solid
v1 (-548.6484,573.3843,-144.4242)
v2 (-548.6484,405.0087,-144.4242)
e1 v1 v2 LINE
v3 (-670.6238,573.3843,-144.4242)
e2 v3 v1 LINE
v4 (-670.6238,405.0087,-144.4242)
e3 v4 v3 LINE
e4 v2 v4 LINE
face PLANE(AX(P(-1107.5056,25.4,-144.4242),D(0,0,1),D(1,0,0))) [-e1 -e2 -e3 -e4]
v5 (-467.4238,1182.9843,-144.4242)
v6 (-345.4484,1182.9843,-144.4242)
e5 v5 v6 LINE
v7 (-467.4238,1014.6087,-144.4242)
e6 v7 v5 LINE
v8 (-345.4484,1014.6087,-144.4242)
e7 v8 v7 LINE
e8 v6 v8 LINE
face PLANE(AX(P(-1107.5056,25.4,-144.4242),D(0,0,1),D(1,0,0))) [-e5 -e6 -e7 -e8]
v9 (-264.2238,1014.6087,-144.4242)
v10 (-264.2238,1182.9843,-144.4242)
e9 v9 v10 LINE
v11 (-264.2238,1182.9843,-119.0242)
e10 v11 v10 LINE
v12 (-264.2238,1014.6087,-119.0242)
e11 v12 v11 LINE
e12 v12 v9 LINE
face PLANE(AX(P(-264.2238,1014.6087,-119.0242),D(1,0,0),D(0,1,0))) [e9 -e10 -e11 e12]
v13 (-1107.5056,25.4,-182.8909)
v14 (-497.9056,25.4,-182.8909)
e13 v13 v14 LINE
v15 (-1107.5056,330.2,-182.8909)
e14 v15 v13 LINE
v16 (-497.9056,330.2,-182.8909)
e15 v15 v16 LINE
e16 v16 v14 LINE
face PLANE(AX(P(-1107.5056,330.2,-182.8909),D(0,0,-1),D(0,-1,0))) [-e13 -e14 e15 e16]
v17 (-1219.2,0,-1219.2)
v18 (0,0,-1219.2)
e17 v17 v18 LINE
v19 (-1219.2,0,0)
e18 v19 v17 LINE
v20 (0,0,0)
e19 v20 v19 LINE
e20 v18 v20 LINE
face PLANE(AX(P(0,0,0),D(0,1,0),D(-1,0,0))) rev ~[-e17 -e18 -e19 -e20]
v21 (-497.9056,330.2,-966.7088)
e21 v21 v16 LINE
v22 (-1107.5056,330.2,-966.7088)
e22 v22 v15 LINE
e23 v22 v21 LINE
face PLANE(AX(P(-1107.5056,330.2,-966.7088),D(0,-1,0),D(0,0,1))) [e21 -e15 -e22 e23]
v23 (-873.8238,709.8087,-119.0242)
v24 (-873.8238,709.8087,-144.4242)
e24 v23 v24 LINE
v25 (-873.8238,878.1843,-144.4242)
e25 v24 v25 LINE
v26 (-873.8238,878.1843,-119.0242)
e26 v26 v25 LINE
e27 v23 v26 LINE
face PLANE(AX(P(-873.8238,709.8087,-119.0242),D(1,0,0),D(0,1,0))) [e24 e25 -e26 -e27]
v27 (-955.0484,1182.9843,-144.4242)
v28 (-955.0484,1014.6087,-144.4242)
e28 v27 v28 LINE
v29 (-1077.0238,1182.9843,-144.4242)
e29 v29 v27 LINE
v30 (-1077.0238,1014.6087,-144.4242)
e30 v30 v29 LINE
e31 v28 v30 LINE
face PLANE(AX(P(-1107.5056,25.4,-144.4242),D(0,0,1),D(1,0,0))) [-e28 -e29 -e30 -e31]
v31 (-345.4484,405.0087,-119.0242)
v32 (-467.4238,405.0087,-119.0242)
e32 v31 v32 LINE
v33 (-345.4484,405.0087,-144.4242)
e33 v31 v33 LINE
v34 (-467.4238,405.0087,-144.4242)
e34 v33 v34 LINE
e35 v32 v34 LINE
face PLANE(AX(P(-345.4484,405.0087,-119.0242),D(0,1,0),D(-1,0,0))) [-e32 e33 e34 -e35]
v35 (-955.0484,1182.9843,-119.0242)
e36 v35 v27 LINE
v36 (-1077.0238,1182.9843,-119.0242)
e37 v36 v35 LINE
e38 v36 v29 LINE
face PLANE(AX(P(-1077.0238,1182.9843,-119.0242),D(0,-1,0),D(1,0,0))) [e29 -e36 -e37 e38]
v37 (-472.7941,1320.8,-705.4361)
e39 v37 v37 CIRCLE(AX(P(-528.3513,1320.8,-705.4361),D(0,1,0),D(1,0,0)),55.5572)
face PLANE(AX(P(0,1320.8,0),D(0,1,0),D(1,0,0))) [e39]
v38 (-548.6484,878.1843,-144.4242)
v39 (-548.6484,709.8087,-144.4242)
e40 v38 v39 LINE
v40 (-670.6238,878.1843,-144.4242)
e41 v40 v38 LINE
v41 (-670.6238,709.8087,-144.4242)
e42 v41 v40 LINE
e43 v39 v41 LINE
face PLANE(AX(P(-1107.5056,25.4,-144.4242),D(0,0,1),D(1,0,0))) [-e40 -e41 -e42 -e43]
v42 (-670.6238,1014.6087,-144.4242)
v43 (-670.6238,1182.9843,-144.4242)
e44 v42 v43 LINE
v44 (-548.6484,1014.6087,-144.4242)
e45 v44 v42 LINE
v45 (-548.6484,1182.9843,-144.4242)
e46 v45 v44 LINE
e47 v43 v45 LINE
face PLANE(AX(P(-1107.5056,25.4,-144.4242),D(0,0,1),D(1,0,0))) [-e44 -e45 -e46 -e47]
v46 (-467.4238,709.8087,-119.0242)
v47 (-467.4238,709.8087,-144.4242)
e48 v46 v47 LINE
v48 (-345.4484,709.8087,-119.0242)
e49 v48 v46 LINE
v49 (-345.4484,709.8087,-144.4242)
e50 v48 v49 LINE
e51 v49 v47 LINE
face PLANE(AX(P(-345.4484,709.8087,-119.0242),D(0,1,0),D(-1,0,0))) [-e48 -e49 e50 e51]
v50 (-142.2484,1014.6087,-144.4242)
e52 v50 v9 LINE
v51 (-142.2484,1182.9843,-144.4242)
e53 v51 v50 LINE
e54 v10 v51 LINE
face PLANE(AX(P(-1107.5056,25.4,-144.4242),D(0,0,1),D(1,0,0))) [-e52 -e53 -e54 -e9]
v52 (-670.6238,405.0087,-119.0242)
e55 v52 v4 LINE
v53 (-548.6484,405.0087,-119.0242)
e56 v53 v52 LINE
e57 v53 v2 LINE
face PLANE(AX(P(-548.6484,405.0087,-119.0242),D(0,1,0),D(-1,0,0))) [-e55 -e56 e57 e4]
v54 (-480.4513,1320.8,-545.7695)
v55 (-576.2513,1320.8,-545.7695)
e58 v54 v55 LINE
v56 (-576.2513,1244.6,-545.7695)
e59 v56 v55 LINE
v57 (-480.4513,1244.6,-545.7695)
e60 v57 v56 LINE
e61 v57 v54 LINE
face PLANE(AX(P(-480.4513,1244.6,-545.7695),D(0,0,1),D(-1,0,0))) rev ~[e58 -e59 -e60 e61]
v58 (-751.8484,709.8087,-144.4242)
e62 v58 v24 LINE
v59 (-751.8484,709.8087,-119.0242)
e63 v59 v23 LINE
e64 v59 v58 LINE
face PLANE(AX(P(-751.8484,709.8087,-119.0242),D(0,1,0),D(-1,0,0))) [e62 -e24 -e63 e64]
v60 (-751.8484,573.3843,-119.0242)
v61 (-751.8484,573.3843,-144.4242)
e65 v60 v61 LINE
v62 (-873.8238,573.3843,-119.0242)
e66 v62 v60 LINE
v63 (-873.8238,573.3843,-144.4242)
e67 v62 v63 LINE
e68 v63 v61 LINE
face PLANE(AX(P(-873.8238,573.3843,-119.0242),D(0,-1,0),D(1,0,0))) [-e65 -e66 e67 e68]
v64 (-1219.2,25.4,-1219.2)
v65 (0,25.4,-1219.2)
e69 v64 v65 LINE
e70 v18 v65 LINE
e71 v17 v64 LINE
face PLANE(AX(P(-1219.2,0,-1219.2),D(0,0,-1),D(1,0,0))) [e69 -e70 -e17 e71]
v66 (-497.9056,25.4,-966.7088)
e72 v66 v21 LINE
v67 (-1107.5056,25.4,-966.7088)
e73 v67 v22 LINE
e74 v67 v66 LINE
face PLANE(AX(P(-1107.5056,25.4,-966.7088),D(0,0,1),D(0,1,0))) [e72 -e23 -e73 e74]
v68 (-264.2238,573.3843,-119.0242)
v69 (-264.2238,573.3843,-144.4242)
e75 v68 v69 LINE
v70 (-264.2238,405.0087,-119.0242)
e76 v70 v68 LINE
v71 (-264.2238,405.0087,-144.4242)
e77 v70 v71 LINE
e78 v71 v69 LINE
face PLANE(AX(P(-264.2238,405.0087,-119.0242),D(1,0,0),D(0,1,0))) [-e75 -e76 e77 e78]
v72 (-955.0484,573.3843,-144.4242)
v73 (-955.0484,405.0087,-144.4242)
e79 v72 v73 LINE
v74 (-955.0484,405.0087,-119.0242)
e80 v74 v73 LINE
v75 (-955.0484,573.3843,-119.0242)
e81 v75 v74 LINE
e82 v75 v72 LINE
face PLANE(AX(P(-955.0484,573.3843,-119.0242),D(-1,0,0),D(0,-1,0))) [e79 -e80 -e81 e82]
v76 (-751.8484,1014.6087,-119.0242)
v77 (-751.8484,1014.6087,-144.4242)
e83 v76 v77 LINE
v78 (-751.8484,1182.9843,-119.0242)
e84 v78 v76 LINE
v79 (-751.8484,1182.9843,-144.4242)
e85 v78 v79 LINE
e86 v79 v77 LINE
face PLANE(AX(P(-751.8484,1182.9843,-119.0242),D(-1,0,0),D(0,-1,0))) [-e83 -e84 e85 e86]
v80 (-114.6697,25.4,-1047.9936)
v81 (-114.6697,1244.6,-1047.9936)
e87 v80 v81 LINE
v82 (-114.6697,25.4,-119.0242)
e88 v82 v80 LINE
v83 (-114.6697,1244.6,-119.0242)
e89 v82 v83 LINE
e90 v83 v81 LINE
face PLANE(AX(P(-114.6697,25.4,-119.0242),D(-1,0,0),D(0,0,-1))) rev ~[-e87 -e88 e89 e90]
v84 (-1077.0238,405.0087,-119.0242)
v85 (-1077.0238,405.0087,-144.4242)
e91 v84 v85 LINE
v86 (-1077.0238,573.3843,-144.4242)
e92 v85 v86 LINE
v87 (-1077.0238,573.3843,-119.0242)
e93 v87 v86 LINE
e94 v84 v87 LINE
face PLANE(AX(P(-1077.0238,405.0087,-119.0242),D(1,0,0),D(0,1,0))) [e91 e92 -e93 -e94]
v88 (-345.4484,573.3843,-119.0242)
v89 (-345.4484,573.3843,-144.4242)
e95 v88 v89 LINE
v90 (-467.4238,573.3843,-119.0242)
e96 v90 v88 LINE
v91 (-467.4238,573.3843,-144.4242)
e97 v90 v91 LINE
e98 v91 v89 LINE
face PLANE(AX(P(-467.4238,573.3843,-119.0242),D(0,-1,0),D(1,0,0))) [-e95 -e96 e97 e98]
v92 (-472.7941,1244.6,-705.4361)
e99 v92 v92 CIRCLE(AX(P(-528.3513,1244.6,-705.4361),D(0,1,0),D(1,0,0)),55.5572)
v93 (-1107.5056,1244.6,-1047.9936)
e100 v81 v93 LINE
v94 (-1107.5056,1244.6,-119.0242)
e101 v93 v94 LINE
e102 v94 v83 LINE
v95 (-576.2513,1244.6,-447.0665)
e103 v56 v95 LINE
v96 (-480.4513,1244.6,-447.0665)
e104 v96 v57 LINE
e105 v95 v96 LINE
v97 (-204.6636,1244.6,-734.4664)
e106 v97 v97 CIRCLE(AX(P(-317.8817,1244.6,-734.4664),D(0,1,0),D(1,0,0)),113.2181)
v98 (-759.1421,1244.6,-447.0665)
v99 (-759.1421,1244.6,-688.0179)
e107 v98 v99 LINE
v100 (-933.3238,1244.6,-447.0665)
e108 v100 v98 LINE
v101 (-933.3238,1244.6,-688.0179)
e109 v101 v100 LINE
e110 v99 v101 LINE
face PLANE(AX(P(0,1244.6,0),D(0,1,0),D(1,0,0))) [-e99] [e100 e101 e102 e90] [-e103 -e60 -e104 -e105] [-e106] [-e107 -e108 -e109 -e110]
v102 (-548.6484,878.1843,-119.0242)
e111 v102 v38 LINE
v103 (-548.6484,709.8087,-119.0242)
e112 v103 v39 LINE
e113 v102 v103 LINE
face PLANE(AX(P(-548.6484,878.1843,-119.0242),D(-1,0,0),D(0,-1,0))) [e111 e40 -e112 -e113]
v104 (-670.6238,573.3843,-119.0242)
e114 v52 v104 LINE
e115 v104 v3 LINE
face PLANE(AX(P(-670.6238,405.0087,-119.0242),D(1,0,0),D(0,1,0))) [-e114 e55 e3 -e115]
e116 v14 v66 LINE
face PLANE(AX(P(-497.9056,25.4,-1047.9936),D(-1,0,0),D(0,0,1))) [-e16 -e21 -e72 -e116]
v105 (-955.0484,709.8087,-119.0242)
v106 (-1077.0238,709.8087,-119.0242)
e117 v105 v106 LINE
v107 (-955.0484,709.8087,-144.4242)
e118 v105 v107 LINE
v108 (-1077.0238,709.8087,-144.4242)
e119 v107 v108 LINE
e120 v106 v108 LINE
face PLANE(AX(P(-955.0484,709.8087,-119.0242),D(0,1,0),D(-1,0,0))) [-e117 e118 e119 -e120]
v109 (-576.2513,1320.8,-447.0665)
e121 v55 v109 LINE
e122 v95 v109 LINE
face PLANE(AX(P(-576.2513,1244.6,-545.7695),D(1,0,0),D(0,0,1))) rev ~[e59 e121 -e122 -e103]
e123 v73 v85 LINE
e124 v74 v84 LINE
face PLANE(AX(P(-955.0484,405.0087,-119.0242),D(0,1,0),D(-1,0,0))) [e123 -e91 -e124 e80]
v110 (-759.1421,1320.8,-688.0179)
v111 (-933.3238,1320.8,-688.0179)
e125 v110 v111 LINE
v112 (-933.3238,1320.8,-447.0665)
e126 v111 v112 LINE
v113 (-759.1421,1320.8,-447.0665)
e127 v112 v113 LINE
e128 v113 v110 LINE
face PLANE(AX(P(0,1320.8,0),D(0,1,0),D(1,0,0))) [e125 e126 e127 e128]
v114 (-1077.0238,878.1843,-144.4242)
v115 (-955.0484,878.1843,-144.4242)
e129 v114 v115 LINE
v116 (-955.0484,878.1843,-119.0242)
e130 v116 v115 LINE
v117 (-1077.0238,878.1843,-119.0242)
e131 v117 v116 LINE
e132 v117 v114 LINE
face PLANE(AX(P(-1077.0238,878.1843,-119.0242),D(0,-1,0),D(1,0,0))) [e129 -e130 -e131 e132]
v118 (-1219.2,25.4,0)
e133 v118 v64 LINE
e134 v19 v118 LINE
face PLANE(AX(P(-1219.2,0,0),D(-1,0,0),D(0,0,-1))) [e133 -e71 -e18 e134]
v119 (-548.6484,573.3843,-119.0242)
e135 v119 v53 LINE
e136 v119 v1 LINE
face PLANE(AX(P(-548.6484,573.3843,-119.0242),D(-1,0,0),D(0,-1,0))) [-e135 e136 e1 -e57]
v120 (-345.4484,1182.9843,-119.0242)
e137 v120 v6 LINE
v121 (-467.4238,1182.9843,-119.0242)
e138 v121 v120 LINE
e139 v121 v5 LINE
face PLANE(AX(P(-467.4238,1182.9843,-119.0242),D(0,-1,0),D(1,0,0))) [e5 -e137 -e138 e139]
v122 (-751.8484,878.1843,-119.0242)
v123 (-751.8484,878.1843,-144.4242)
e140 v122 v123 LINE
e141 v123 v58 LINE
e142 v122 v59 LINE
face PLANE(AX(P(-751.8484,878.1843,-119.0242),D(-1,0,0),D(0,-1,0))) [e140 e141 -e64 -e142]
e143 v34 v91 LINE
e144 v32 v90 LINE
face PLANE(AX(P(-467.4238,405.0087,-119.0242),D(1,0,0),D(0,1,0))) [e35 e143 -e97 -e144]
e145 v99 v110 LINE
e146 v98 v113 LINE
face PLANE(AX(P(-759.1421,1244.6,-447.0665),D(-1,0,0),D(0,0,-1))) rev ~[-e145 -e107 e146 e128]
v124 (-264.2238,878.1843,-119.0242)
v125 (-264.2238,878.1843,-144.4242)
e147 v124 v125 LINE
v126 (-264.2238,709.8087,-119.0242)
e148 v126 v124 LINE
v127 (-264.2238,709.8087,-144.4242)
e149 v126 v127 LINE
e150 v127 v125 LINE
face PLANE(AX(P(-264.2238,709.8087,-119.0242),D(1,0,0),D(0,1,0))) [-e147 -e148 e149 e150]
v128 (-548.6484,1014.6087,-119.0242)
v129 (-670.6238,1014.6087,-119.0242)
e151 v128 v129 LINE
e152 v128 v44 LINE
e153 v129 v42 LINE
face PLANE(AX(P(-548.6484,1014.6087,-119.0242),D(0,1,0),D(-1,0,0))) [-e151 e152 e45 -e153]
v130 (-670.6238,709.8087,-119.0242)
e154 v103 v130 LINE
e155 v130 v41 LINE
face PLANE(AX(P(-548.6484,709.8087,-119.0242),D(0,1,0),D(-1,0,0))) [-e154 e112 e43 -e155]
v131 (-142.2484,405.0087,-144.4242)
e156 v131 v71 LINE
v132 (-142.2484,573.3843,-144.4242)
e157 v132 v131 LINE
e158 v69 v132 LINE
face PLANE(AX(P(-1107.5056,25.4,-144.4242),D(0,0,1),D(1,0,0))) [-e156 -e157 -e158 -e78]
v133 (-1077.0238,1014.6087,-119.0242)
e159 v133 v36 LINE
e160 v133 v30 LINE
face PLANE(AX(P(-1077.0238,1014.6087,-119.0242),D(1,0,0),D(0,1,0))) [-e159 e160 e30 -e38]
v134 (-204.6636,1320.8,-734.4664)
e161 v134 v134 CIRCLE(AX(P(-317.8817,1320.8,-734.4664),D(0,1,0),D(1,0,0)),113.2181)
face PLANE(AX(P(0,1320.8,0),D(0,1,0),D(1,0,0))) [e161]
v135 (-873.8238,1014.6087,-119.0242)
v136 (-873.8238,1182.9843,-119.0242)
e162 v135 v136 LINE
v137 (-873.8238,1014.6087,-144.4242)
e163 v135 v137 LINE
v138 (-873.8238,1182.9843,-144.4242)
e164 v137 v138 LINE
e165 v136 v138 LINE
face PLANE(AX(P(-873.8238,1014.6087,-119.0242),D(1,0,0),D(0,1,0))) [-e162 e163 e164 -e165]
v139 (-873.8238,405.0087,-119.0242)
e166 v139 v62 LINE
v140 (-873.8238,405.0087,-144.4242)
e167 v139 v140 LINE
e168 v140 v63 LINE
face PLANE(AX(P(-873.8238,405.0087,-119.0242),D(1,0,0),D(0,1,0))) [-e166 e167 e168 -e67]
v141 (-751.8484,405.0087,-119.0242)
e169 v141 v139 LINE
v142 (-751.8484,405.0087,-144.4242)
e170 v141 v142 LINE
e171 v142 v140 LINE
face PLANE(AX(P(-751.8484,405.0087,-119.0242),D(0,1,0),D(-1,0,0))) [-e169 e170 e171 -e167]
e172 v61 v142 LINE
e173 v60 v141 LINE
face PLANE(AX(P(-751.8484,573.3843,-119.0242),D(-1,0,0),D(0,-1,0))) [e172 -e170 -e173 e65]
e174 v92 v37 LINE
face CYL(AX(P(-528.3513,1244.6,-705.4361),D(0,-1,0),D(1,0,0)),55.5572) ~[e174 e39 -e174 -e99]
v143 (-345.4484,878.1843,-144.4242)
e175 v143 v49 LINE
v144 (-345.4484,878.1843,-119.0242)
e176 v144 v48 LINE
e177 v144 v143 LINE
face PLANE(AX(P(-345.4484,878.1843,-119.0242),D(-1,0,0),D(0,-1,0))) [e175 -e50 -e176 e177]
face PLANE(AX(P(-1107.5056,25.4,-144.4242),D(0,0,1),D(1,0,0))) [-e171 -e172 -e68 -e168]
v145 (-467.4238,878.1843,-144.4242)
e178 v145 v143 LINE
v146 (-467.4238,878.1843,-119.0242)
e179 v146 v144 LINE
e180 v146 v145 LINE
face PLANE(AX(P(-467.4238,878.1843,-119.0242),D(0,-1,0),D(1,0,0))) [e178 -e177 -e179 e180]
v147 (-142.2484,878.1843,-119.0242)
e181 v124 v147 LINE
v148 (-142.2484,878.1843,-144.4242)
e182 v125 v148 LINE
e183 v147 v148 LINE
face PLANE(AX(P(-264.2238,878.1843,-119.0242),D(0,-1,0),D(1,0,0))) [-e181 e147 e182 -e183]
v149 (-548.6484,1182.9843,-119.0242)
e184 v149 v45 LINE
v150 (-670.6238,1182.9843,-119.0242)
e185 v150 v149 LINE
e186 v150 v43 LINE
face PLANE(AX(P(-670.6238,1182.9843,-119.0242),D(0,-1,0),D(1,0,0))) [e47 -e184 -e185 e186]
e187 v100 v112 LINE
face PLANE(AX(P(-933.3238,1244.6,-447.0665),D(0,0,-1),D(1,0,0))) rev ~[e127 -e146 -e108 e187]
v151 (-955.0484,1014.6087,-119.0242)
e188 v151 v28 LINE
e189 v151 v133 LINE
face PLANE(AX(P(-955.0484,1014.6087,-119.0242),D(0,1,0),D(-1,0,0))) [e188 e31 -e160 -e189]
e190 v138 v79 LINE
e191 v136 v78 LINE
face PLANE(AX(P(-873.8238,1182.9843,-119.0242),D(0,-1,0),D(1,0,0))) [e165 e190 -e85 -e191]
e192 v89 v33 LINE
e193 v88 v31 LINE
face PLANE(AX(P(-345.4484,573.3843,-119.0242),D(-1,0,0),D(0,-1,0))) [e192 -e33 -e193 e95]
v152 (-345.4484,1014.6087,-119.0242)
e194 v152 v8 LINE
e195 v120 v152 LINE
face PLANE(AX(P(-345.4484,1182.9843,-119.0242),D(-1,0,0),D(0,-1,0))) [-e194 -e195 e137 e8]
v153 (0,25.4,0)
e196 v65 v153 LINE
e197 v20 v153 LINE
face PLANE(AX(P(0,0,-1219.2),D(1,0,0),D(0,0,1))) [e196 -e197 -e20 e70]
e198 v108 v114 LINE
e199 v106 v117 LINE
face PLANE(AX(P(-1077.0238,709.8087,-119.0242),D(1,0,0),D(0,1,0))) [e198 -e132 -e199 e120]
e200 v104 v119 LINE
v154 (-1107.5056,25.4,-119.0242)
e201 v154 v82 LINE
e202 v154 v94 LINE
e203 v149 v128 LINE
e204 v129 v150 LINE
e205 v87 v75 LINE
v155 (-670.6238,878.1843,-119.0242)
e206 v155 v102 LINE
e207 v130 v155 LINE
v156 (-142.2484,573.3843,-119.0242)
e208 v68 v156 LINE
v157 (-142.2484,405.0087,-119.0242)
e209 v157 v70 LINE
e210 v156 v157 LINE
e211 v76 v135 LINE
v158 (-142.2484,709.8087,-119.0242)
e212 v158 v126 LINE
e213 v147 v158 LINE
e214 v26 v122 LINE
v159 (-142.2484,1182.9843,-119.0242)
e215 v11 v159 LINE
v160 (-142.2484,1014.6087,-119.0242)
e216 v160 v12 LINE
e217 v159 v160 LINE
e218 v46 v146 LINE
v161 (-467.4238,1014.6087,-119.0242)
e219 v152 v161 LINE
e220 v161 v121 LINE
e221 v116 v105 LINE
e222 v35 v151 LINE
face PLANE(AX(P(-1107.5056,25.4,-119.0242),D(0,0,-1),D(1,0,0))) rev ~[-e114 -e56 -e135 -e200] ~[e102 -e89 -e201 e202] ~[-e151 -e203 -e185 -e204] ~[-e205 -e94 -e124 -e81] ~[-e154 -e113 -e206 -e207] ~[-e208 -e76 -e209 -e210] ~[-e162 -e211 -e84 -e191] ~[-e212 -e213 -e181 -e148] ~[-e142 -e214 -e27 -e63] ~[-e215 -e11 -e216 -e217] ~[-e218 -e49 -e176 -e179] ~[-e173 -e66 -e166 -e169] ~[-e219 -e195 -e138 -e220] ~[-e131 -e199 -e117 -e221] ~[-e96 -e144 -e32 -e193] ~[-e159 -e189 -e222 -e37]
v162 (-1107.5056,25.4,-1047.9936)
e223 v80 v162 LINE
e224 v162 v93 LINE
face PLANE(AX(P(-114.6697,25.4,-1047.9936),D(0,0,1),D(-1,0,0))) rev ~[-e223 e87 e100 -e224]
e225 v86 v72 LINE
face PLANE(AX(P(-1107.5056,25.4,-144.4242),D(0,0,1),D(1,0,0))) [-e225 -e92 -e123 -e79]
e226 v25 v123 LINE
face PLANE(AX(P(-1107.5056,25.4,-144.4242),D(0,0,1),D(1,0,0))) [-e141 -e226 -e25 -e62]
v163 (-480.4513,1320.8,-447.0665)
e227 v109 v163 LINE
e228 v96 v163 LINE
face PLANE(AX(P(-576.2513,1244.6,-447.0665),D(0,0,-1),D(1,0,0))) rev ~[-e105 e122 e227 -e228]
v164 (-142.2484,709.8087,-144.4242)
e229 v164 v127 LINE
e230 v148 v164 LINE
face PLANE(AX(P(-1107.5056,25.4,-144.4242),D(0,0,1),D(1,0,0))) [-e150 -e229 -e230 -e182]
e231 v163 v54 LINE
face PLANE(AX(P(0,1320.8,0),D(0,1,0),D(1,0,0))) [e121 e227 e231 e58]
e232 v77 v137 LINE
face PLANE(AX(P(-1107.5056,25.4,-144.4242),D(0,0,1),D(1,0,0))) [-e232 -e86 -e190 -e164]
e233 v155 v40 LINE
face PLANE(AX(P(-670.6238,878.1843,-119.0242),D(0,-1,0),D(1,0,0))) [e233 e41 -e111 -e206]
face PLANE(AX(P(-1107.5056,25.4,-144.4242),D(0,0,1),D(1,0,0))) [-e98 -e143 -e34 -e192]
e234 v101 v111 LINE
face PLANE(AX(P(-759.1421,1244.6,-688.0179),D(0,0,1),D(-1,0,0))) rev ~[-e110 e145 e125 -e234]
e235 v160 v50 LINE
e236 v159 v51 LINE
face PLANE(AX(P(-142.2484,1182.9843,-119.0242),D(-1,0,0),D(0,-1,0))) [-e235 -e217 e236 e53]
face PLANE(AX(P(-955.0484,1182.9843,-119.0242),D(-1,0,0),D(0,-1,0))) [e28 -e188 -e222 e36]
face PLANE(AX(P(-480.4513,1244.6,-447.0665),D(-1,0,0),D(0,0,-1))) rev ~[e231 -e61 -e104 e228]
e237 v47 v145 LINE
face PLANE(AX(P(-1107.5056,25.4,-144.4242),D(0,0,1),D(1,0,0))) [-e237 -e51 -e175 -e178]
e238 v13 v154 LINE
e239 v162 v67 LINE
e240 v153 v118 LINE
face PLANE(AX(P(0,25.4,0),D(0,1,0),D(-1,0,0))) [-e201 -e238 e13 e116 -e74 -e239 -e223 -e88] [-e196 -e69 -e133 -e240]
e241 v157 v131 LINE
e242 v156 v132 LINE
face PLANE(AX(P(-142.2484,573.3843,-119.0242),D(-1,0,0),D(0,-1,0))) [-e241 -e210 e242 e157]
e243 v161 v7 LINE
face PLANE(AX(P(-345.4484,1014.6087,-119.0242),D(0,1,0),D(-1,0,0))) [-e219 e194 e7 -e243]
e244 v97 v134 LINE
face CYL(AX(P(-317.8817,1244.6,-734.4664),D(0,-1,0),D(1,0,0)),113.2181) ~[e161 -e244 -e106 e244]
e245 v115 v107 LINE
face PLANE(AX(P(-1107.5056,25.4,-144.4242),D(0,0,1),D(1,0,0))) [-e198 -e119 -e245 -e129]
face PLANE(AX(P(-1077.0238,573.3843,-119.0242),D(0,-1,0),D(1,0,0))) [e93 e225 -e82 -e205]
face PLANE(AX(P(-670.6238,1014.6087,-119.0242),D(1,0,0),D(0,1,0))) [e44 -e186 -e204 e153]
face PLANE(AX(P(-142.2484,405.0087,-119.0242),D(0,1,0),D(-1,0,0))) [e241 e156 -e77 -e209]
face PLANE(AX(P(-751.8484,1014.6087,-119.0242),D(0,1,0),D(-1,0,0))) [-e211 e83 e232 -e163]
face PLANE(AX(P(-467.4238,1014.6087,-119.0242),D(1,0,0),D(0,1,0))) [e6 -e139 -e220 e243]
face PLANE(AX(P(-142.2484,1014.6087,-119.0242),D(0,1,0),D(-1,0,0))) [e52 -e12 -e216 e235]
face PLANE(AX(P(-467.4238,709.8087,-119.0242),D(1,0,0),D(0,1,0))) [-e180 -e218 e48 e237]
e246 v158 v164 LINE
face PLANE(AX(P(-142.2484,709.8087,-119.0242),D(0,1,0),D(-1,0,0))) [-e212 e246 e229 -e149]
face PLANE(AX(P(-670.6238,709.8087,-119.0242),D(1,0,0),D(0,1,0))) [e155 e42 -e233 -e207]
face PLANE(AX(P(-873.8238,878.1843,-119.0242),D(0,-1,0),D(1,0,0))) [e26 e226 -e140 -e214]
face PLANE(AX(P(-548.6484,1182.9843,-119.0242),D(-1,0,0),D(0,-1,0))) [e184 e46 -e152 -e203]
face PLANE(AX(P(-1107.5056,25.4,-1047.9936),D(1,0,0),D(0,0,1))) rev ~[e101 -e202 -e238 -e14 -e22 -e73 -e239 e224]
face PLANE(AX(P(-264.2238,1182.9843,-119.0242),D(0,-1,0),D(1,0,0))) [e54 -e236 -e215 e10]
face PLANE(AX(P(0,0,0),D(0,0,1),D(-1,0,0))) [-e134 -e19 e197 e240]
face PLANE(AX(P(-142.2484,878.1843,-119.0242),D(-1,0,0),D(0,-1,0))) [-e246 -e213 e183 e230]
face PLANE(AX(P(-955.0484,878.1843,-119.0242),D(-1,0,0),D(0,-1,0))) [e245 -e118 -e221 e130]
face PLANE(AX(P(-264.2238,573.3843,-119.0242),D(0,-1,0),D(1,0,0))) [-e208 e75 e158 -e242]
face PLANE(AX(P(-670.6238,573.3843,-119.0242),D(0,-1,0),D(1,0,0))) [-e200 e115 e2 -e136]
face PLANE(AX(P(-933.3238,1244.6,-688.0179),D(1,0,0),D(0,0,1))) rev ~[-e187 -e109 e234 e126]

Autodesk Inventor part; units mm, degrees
ref_plane "YZ Plane" through (0, 0, 0) normal (1, 0, 0) x (0, 1, 0)
ref_plane "XZ Plane" through (0, 0, 0) normal (0, 1, 0) x (-1, 0, 0)
ref_plane "XY Plane" through (0, 0, 0) normal (0, 0, 1) x (1, 0, 0)
sketch "Sketch1" plane through (0, 0, 0) normal (0, 1, 0) x (-1, 0, 0)
  line L0 (0, 0) -> (1219.2, 0)
  line L1 (1219.2, 0) -> (1219.2, -1219.2)
  line L2 (1219.2, -1219.2) -> (0, -1219.2)
  line L3 (0, -1219.2) -> (0, 0)
  dimension "d0" = 1219.2
  dimension "d1" = 1219.2
extrude "Extrusion1" add sketch "Sketch1" along normal blind 25.4
sketch "Sketch2" plane through (0, 25.4, 0) normal (0, 1, 0) x (1, 0, 0)
  line L0 (-1107.5056, 119.0242) -> (-114.6697, 119.0242)
  line L1 (-114.6697, 119.0242) -> (-114.6697, 1047.9936)
  line L2 (-114.6697, 1047.9936) -> (-1107.5056, 1047.9936)
  line L3 (-1107.5056, 1047.9936) -> (-1107.5056, 119.0242)
  point P0 (0, 0)
extrude "Extrusion2" add sketch "Sketch2" along normal blind 1219.2
sketch "Sketch3" plane through (0, 1244.6, 0) normal (0, 1, 0) x (1, 0, 0)
  line L0 (-933.3238, 447.0665) -> (-759.1421, 447.0665)
  line L1 (-759.1421, 447.0665) -> (-759.1421, 688.0179)
  line L2 (-759.1421, 688.0179) -> (-933.3238, 688.0179)
  line L3 (-933.3238, 688.0179) -> (-933.3238, 447.0665)
  line L4 (-576.2513, 447.0665) -> (-480.4513, 447.0665)
  line L5 (-480.4513, 447.0665) -> (-480.4513, 545.7695)
  line L6 (-480.4513, 545.7695) -> (-576.2513, 545.7695)
  line L7 (-576.2513, 545.7695) -> (-576.2513, 447.0665)
  circle A0 centre (-528.3513, 705.4361) radius 55.5572
  circle A1 centre (-317.8817, 734.4664) radius 113.2181
  point P0 (0, 0)
extrude "Extrusion3" add sketch "Sketch3" along normal blind 76.2
sketch "Sketch4" plane through (-1107.5056, 25.4, -119.0242) normal (0, 0, 1) x (1, 0, 0)
  line L0 (30.4818, 1157.5843) -> (152.4572, 1157.5843)
  line L1 (152.4572, 1157.5843) -> (152.4572, 989.2087)
  line L2 (152.4572, 989.2087) -> (30.4818, 989.2087)
  line L3 (30.4818, 989.2087) -> (30.4818, 1157.5843)
  line L4 (0, 1219.2) -> (992.8359, 1219.2) projected
  line L5 (0, 0) -> (0, 1219.2) projected
  line L6 (233.6818, 1157.5843) -> (355.6572, 1157.5843)
  line L7 (355.6572, 1157.5843) -> (355.6572, 989.2087)
  line L8 (355.6572, 989.2087) -> (233.6818, 989.2087)
  line L9 (233.6818, 989.2087) -> (233.6818, 1157.5843)
  line L10 (436.8818, 1157.5843) -> (558.8572, 1157.5843)
  line L11 (558.8572, 1157.5843) -> (558.8572, 989.2087)
  line L12 (558.8572, 989.2087) -> (436.8818, 989.2087)
  line L13 (436.8818, 989.2087) -> (436.8818, 1157.5843)
  line L14 (640.0818, 1157.5843) -> (762.0572, 1157.5843)
  line L15 (762.0572, 1157.5843) -> (762.0572, 989.2087)
  line L16 (762.0572, 989.2087) -> (640.0818, 989.2087)
  line L17 (640.0818, 989.2087) -> (640.0818, 1157.5843)
  line L18 (843.2818, 1157.5843) -> (965.2572, 1157.5843)
  line L19 (965.2572, 1157.5843) -> (965.2572, 989.2087)
  line L20 (965.2572, 989.2087) -> (843.2818, 989.2087)
  line L21 (843.2818, 989.2087) -> (843.2818, 1157.5843)
  line L22 (30.4818, 852.7843) -> (152.4572, 852.7843)
  line L23 (152.4572, 852.7843) -> (152.4572, 684.4087)
  line L24 (152.4572, 684.4087) -> (30.4818, 684.4087)
  line L25 (30.4818, 684.4087) -> (30.4818, 852.7843)
  line L26 (233.6818, 852.7843) -> (355.6572, 852.7843)
  line L27 (355.6572, 852.7843) -> (355.6572, 684.4087)
  line L28 (355.6572, 684.4087) -> (233.6818, 684.4087)
  line L29 (233.6818, 684.4087) -> (233.6818, 852.7843)
  line L30 (436.8818, 852.7843) -> (558.8572, 852.7843)
  line L31 (558.8572, 852.7843) -> (558.8572, 684.4087)
  line L32 (558.8572, 684.4087) -> (436.8818, 684.4087)
  line L33 (436.8818, 684.4087) -> (436.8818, 852.7843)
  line L34 (640.0818, 852.7843) -> (762.0572, 852.7843)
  line L35 (762.0572, 852.7843) -> (762.0572, 684.4087)
  line L36 (762.0572, 684.4087) -> (640.0818, 684.4087)
  line L37 (640.0818, 684.4087) -> (640.0818, 852.7843)
  line L38 (843.2818, 852.7843) -> (965.2572, 852.7843)
  line L39 (965.2572, 852.7843) -> (965.2572, 684.4087)
  line L40 (965.2572, 684.4087) -> (843.2818, 684.4087)
  line L41 (843.2818, 684.4087) -> (843.2818, 852.7843)
  line L42 (30.4818, 547.9843) -> (152.4572, 547.9843)
  line L43 (152.4572, 547.9843) -> (152.4572, 379.6087)
  line L44 (152.4572, 379.6087) -> (30.4818, 379.6087)
  line L45 (30.4818, 379.6087) -> (30.4818, 547.9843)
  line L46 (233.6818, 547.9843) -> (355.6572, 547.9843)
  line L47 (355.6572, 547.9843) -> (355.6572, 379.6087)
  line L48 (355.6572, 379.6087) -> (233.6818, 379.6087)
  line L49 (233.6818, 379.6087) -> (233.6818, 547.9843)
  line L50 (436.8818, 547.9843) -> (558.8572, 547.9843)
  line L51 (558.8572, 547.9843) -> (558.8572, 379.6087)
  line L52 (558.8572, 379.6087) -> (436.8818, 379.6087)
  line L53 (436.8818, 379.6087) -> (436.8818, 547.9843)
  line L54 (640.0818, 547.9843) -> (762.0572, 547.9843)
  line L55 (762.0572, 547.9843) -> (762.0572, 379.6087)
  line L56 (762.0572, 379.6087) -> (640.0818, 379.6087)
  line L57 (640.0818, 379.6087) -> (640.0818, 547.9843)
  line L58 (843.2818, 547.9843) -> (965.2572, 547.9843)
  line L59 (965.2572, 547.9843) -> (965.2572, 379.6087)
  line L60 (965.2572, 379.6087) -> (843.2818, 379.6087)
  line L61 (843.2818, 379.6087) -> (843.2818, 547.9843)
  point P0 (1107.5056, -25.4)
  dimension "d10" = 203.2
  dimension "d13" = 304.8
extrude "Extrusion4" cut sketch "Sketch4" against normal blind 25.4
sketch "Sketch5" plane through (-1107.5056, 25.4, -1047.9936) normal (-1, 0, 0) x (0, 0, 1)
  line L0 (81.2848, 304.8) -> (865.1027, 304.8)
  line L1 (865.1027, 304.8) -> (865.1027, 0)
  line L2 (865.1027, 0) -> (81.2848, 0)
  line L3 (81.2848, 0) -> (81.2848, 304.8)
  line L4 (-171.2064, 0) -> (1047.9936, 0) projected
  point P0 (1047.9936, -25.4)
  dimension "d18" = 0
  dimension "d19" = 304.8
extrude "Extrusion5" cut sketch "Sketch5" against normal blind 609.6
equation "\"d1\" = d0"
properties part number "apartment_1" material "Wood (Oak)"
